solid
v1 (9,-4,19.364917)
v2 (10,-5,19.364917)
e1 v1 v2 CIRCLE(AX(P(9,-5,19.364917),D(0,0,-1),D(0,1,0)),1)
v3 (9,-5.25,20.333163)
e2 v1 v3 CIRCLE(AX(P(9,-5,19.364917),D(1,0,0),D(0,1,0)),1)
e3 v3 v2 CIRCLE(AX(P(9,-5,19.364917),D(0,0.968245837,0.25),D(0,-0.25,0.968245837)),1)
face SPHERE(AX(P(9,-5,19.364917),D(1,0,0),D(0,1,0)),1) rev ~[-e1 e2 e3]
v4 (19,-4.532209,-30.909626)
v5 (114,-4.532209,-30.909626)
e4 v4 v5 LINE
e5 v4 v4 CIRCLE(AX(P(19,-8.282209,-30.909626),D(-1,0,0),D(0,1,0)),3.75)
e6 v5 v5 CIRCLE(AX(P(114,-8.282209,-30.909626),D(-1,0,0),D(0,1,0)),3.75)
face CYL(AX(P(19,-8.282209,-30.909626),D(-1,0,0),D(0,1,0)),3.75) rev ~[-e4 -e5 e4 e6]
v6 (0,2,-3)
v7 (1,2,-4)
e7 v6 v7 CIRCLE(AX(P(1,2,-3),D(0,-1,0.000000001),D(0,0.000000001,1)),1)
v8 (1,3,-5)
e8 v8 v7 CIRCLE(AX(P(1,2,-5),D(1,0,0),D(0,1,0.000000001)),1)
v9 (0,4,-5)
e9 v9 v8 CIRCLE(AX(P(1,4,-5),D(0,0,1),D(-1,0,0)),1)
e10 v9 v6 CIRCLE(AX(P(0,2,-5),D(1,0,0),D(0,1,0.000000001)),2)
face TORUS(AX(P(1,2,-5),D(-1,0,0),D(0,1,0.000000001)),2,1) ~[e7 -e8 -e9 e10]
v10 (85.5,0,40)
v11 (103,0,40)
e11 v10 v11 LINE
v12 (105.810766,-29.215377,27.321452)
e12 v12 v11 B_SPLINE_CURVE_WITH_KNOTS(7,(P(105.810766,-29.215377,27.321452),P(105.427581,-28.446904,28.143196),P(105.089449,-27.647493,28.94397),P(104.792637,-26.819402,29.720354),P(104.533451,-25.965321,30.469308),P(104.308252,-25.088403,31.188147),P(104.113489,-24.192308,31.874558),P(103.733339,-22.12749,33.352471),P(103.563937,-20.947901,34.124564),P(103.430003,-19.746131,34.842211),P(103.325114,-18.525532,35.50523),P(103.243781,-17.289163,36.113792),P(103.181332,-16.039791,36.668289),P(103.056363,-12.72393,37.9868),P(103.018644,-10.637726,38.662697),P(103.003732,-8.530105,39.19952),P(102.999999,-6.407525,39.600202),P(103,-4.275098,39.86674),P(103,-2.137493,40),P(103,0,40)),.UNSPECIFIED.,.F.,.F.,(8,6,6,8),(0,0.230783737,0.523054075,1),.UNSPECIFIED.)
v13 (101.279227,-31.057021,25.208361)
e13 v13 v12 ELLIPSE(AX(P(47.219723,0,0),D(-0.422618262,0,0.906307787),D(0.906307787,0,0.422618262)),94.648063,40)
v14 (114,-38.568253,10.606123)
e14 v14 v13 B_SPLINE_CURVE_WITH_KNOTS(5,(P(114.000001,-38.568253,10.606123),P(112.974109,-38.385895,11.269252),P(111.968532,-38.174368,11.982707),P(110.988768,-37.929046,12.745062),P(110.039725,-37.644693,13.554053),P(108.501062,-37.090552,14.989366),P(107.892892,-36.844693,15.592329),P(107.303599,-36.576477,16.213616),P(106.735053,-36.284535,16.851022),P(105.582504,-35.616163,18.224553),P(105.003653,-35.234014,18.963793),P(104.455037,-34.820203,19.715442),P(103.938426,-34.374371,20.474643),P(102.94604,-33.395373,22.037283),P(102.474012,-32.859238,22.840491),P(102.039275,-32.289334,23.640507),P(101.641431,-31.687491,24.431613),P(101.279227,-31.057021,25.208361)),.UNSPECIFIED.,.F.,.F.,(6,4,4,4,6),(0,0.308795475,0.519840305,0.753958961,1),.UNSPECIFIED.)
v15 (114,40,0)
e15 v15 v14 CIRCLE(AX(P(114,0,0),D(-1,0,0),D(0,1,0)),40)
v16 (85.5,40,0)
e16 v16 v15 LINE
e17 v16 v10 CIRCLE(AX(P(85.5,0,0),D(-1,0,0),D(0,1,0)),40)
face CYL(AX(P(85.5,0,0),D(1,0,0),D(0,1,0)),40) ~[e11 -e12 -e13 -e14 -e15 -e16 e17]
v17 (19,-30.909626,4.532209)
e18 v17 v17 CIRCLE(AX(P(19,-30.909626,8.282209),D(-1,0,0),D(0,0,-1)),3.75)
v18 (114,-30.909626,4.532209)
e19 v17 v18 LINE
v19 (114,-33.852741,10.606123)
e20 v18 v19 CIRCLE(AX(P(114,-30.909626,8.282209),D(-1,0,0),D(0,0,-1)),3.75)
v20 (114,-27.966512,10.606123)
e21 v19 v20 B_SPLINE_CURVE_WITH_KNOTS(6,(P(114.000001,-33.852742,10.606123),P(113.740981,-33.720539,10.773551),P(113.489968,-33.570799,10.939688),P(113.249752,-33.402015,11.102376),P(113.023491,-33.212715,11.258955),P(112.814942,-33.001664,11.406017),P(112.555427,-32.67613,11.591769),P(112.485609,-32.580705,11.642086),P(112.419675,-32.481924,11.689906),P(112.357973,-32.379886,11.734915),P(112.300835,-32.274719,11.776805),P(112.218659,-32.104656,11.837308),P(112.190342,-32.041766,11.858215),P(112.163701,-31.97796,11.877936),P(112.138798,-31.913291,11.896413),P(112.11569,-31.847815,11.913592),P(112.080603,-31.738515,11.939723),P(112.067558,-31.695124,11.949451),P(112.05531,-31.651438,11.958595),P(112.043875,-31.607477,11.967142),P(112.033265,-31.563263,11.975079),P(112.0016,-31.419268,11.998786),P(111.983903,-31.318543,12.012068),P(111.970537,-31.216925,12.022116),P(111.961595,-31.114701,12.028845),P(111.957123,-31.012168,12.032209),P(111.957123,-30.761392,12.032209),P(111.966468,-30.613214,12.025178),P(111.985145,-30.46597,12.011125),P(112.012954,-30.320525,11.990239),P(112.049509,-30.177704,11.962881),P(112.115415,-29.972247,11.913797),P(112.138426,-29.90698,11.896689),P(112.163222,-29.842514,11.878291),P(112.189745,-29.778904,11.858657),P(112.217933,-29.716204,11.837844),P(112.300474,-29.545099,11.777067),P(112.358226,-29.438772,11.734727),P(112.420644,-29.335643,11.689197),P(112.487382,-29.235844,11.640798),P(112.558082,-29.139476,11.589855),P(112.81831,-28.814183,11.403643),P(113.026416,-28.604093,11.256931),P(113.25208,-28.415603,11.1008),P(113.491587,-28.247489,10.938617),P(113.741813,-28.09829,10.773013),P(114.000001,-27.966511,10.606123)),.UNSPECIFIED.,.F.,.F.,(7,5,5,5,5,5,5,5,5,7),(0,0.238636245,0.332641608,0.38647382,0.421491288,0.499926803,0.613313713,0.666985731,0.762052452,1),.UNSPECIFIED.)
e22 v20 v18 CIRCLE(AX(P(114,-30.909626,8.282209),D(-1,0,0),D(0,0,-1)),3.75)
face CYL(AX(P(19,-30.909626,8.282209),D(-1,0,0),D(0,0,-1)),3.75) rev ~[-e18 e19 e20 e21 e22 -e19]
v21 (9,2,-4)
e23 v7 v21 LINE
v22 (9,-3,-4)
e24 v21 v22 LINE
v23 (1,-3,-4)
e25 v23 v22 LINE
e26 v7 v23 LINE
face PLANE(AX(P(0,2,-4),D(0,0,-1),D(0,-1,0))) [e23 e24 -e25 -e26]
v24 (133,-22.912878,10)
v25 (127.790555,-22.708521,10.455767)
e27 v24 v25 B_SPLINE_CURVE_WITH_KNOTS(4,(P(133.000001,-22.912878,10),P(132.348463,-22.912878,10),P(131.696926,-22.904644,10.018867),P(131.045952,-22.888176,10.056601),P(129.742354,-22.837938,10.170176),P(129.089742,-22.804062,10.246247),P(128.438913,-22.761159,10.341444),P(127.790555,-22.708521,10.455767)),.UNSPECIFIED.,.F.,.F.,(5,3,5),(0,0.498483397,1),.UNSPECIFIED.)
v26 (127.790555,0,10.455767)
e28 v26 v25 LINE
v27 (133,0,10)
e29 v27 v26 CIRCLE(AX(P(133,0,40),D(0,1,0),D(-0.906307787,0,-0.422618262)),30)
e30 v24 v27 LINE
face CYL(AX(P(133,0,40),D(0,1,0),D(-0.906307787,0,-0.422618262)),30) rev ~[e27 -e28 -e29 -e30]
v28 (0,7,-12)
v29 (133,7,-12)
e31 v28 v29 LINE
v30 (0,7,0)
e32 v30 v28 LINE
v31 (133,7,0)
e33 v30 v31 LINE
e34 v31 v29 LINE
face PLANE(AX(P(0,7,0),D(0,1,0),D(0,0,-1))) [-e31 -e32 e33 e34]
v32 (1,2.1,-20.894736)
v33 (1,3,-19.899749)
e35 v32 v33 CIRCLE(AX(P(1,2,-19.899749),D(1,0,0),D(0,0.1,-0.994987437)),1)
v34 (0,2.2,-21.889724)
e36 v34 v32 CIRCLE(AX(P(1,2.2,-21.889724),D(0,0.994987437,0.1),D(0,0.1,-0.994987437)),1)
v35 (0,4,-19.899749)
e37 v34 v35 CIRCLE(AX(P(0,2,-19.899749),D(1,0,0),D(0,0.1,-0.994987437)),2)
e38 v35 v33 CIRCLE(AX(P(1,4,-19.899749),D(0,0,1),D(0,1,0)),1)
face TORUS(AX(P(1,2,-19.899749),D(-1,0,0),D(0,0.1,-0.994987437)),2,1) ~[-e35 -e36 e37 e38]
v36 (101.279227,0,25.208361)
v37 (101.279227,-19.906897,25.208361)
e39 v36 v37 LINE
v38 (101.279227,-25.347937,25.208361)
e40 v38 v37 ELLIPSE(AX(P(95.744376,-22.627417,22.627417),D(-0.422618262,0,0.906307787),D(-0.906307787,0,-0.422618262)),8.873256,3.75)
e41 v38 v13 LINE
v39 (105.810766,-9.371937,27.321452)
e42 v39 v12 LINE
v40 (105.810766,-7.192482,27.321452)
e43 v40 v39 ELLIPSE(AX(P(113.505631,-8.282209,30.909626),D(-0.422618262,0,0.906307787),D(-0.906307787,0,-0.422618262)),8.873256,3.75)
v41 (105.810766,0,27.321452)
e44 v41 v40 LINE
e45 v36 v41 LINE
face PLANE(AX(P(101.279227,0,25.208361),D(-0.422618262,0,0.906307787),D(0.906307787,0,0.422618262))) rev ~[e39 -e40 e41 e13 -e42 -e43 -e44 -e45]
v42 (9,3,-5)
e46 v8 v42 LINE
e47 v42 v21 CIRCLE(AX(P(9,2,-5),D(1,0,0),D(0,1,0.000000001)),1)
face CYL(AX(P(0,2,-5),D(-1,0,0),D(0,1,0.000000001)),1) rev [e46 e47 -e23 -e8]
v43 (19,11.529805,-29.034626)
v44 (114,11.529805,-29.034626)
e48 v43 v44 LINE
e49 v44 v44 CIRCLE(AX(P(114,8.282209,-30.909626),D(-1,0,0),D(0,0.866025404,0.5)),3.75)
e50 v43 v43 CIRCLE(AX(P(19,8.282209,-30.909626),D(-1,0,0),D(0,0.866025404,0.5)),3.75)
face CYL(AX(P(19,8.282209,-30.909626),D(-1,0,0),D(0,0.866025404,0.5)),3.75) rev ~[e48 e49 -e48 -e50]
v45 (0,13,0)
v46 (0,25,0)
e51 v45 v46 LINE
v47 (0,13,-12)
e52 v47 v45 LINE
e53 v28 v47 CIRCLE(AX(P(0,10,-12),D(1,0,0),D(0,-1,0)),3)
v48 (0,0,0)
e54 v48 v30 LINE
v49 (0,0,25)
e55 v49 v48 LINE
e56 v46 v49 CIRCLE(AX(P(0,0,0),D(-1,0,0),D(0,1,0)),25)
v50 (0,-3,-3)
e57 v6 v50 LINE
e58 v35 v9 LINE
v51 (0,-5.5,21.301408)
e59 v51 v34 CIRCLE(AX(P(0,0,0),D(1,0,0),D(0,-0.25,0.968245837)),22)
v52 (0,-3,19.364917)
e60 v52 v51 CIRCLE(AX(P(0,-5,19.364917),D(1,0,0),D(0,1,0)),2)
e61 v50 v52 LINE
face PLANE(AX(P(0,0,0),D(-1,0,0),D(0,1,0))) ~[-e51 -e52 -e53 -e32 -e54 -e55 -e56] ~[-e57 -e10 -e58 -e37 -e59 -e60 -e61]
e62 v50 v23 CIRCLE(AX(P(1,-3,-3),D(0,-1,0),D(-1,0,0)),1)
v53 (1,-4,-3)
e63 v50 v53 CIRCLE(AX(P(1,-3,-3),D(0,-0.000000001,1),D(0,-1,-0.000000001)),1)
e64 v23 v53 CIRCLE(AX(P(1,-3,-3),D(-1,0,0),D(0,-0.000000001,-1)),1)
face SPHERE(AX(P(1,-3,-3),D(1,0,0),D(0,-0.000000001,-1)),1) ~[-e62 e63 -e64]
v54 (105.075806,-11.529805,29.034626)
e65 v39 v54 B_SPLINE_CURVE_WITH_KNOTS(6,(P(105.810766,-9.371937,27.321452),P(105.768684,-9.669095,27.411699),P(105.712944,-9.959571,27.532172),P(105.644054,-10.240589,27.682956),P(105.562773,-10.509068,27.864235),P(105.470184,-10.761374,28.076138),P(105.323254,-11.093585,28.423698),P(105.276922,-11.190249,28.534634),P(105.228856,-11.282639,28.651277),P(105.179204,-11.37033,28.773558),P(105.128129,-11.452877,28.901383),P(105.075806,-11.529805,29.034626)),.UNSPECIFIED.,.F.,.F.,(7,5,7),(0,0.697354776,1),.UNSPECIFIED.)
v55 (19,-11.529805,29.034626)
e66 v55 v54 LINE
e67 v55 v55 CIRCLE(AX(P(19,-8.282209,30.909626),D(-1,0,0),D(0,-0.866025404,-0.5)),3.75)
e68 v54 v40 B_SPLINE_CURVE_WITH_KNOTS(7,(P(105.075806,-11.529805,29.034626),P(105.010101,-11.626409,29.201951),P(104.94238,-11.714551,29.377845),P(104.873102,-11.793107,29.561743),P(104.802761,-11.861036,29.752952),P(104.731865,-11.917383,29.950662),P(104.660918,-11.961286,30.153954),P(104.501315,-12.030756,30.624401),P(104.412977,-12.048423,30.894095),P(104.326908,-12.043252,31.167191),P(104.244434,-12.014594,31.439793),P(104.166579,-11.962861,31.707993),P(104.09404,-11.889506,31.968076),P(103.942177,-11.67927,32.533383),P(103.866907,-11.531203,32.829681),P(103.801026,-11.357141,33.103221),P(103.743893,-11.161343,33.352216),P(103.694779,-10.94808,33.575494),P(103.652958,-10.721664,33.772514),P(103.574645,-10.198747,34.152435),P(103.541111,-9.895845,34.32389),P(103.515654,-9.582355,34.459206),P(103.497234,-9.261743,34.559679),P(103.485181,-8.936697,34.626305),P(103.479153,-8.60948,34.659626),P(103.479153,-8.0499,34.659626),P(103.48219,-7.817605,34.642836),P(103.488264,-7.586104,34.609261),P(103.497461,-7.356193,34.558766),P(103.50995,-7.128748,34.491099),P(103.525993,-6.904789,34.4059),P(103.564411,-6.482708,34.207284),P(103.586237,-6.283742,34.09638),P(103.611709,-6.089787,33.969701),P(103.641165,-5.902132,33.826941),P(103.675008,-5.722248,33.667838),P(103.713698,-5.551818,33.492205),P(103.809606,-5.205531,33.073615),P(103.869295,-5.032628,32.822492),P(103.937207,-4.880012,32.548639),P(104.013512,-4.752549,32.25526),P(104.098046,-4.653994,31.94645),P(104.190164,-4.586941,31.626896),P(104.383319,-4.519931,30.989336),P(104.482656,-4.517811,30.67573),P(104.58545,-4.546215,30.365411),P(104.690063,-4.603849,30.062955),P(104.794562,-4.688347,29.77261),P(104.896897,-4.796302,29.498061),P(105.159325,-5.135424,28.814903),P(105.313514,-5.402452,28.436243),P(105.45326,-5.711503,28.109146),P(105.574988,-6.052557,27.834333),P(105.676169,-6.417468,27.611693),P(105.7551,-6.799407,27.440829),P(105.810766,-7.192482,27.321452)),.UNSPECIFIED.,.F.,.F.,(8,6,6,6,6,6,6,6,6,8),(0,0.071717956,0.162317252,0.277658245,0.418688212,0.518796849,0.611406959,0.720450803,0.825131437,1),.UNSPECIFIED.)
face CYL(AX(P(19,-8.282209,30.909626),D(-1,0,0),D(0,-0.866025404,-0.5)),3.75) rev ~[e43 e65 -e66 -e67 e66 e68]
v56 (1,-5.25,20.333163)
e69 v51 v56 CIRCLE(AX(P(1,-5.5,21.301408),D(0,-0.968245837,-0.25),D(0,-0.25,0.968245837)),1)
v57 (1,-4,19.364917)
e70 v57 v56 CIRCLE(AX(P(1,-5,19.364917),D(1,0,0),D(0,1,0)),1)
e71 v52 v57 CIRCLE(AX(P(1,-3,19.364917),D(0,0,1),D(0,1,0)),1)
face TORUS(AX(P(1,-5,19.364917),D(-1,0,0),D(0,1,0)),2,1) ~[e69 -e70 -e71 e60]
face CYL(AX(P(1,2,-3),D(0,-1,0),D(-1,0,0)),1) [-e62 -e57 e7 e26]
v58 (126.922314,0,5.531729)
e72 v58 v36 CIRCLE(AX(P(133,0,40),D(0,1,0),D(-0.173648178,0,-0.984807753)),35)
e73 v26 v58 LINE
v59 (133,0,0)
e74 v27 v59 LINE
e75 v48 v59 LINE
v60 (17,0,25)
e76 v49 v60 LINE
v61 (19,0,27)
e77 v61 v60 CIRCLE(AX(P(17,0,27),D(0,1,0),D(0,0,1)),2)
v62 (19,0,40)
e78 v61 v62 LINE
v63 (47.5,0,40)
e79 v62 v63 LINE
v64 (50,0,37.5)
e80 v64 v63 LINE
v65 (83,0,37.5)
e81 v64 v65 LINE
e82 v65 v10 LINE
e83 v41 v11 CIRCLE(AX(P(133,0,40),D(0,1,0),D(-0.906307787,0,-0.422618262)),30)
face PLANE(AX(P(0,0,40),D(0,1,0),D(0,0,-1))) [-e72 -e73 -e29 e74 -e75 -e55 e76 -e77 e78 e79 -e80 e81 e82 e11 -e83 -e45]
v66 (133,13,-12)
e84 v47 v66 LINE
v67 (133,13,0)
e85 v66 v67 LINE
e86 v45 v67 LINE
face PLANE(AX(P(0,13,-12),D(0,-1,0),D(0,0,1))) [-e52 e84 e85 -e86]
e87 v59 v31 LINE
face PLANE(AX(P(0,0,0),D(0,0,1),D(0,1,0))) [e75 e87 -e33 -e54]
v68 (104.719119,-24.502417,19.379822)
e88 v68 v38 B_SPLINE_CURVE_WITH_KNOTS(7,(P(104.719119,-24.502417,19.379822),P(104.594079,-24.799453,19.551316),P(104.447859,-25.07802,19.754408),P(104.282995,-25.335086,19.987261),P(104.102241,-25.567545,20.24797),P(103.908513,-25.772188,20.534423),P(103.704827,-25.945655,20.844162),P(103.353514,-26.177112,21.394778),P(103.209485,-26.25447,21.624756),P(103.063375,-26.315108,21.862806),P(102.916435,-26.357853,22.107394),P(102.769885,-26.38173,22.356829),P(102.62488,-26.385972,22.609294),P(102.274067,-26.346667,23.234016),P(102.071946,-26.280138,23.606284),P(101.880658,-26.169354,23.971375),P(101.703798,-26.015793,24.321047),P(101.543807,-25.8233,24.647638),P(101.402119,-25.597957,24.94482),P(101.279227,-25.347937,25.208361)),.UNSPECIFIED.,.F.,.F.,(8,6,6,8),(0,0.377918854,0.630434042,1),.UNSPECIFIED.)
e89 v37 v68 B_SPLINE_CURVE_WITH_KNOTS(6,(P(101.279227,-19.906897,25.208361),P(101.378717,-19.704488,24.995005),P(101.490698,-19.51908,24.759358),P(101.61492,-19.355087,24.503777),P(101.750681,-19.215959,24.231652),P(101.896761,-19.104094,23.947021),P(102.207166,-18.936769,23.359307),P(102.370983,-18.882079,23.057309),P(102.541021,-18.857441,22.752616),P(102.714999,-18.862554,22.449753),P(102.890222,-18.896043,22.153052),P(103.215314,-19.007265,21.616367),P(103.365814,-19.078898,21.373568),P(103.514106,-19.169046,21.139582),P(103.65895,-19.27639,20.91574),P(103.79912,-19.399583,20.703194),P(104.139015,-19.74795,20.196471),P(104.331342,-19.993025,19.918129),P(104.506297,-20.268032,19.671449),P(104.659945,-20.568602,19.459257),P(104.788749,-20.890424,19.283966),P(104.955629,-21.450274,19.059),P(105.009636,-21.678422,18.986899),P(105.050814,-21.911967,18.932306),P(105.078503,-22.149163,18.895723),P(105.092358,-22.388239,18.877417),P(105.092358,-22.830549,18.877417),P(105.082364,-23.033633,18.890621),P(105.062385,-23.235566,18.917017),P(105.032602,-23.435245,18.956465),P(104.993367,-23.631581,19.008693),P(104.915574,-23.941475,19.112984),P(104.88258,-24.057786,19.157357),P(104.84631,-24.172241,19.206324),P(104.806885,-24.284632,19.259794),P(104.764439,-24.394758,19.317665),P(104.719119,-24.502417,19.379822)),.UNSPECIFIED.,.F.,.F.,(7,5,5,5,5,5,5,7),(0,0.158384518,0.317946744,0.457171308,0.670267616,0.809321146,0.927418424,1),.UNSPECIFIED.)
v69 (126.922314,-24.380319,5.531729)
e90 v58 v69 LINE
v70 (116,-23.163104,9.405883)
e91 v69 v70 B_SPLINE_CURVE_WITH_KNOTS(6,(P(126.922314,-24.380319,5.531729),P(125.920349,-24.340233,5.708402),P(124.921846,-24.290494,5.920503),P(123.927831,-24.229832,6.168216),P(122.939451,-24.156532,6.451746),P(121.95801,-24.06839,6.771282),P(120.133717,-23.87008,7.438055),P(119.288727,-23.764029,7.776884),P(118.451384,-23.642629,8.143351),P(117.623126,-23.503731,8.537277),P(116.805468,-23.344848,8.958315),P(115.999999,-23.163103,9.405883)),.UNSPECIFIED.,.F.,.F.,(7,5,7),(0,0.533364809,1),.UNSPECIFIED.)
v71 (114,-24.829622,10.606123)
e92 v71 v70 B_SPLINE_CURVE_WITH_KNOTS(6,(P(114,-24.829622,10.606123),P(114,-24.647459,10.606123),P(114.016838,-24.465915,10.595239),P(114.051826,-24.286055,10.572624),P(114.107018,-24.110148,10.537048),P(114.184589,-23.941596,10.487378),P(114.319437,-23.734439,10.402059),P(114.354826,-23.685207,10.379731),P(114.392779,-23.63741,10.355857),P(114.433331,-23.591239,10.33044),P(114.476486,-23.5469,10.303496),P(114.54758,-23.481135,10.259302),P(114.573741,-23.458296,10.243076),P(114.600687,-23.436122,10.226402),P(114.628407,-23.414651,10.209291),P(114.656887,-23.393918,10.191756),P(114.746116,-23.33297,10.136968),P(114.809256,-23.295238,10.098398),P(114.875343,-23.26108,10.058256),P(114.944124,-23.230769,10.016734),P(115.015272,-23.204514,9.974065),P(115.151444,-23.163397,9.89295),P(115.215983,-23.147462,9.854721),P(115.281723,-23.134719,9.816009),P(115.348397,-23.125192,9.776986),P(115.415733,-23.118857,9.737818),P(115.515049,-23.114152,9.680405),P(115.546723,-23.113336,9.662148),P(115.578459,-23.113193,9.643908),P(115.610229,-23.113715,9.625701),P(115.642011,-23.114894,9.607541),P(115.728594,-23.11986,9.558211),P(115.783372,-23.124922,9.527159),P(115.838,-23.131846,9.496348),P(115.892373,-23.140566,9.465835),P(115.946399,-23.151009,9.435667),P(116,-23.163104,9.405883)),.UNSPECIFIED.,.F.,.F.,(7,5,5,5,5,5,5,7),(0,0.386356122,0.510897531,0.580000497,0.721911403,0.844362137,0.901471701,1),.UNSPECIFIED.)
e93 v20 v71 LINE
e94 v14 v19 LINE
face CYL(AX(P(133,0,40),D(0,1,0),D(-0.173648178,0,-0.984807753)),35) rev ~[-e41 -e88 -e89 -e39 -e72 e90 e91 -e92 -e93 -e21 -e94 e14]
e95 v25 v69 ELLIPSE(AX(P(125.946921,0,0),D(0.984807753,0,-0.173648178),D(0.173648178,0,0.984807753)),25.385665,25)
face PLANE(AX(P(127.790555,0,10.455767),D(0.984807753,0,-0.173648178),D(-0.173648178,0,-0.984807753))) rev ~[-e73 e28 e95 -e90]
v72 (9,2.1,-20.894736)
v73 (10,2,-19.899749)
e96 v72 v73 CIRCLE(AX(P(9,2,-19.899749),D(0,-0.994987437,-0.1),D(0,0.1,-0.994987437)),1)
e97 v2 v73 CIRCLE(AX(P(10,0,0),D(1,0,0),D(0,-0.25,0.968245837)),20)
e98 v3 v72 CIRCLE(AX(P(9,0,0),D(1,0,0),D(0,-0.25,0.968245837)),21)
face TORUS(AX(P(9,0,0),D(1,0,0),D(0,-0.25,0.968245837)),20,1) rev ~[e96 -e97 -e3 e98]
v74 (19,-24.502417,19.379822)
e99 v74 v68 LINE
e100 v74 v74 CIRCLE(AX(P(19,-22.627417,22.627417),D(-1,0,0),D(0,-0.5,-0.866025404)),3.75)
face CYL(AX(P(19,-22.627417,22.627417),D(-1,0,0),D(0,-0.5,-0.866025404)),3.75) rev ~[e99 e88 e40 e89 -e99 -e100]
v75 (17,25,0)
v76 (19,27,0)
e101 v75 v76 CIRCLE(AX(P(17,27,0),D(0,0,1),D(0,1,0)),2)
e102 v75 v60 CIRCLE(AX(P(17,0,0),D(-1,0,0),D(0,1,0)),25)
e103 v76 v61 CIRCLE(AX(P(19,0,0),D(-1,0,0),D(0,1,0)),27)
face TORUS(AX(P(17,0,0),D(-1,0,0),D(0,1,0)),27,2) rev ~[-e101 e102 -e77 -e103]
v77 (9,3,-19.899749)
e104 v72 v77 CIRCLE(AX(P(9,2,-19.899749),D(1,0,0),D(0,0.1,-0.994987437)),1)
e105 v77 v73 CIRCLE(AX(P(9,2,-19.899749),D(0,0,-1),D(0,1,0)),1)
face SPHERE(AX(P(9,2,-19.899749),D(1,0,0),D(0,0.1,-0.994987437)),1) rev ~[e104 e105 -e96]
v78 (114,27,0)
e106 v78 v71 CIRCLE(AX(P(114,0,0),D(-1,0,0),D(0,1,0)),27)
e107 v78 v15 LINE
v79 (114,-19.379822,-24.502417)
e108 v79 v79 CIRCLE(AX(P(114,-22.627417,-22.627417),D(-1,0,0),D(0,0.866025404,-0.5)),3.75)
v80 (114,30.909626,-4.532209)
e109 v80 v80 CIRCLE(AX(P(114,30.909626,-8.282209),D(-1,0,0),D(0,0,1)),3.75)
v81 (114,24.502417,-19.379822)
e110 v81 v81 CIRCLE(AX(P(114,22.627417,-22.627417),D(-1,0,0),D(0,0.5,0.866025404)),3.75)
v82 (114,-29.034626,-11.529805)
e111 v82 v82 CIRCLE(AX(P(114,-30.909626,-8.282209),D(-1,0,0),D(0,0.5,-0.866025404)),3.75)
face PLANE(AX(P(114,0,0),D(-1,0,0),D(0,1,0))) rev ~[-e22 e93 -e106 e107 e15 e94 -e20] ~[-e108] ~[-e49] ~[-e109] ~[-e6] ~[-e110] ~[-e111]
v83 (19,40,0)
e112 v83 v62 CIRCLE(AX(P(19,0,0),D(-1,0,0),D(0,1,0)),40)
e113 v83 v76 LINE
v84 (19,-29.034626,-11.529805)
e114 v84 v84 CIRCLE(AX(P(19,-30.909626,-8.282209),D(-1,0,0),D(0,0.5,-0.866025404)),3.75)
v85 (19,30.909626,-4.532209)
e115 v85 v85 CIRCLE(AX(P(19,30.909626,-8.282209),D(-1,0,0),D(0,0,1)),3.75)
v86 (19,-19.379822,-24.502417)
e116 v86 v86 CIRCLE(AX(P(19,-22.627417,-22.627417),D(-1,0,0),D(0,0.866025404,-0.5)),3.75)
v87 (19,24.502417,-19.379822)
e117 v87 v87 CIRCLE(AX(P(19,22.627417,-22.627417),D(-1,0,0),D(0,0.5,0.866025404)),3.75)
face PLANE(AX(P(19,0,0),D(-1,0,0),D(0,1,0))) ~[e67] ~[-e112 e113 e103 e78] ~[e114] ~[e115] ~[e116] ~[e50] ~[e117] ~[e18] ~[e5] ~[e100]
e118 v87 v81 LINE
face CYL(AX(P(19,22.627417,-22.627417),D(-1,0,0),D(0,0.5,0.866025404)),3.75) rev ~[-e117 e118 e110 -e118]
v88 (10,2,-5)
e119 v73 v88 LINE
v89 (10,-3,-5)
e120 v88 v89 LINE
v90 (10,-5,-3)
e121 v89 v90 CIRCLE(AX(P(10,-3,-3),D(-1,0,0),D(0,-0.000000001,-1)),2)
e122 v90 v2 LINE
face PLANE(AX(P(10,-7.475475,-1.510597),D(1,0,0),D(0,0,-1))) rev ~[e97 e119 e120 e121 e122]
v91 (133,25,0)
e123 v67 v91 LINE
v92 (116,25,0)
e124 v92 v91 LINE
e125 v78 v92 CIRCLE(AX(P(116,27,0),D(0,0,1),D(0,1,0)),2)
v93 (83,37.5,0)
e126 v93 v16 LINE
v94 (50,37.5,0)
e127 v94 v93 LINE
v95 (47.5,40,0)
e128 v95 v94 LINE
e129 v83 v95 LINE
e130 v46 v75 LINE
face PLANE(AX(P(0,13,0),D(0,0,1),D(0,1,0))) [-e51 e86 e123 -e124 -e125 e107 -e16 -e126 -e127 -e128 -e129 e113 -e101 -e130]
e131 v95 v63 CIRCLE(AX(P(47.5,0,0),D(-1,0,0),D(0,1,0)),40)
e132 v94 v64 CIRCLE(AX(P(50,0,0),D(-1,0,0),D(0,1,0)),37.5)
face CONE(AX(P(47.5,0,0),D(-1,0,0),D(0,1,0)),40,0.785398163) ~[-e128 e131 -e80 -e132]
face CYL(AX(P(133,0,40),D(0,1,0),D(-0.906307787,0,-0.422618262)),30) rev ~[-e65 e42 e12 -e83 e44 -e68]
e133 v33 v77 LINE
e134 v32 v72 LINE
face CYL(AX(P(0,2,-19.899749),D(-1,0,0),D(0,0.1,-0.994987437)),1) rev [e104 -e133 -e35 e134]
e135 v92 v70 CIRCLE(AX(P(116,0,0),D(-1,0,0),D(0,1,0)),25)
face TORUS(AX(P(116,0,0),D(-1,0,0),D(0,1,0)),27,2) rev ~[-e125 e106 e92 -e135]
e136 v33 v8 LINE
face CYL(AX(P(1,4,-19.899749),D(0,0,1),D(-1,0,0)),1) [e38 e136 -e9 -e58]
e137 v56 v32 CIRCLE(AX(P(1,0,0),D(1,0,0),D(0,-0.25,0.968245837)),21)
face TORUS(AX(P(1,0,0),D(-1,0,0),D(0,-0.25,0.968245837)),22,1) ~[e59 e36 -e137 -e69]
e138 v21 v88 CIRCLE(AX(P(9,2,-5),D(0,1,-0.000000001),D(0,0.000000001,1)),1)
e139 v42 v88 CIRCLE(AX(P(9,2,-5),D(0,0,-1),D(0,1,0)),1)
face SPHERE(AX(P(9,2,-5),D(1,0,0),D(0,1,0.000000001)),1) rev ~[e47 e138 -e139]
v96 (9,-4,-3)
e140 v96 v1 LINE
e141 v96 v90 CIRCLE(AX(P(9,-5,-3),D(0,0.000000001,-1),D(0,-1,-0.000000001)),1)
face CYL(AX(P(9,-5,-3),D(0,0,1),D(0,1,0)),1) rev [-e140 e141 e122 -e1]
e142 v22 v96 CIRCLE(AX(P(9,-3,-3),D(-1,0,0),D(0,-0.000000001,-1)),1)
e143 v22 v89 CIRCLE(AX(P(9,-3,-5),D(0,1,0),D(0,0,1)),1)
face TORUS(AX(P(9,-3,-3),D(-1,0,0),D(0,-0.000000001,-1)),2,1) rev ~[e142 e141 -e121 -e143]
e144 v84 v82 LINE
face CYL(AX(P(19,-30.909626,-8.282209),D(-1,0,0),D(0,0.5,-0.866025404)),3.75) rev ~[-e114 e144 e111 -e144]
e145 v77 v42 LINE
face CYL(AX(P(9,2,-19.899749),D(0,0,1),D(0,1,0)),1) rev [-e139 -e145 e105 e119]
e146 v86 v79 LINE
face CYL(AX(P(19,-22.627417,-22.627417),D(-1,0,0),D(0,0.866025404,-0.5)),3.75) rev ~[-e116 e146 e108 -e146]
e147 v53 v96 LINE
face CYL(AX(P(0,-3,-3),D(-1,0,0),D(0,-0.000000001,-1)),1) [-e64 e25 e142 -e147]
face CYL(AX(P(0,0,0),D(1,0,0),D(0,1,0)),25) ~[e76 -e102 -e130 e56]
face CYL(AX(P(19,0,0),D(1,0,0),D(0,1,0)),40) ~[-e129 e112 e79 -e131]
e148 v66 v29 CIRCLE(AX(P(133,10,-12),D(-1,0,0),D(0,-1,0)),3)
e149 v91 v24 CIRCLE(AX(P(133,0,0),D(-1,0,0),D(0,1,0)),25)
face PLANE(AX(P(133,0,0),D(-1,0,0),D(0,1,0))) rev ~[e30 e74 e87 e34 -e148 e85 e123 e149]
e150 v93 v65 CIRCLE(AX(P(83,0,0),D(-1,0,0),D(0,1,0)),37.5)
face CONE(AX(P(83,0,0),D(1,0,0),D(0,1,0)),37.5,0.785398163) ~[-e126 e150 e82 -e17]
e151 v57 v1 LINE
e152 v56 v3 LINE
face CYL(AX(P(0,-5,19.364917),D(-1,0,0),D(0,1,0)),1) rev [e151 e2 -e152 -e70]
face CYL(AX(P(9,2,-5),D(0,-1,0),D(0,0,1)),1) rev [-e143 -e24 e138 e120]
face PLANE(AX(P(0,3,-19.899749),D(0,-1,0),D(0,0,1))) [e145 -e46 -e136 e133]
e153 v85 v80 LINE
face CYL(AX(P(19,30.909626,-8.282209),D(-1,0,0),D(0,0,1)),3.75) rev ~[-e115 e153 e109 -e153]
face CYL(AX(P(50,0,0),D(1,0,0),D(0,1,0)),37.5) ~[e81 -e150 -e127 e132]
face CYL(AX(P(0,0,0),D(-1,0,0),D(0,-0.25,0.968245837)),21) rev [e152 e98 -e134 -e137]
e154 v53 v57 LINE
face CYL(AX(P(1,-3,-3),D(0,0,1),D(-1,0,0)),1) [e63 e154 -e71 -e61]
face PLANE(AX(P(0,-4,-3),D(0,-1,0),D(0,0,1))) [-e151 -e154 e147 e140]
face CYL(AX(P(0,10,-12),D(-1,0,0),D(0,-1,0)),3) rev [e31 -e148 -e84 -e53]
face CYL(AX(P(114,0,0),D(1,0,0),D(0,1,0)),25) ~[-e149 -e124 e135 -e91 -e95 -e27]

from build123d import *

# Parameters (mm, degrees)
ZAOKR_GLENIE1_R            = 2
WYTNIJ_WYCI_GNI_CIE1_DEPTH = 134
SZKIC4_R                   = 3.75
WYTNIJ_WYCI_GNI_CIE2_DEPTH = 115
SZYK_KO_OWY1_COUNT         = 9
SZYK_KO_OWY1_ANGLE         = 240
WYTNIJ_WYCI_GNI_CIE3_DEPTH = 41
WYTNIJ_WYCI_GNI_CIE4_DEPTH = 10
ZAOKR_GLENIE2_R            = 1
ZAOKR_GLENIE3_R            = 1


with BuildPart() as part:
    # Szkic2 → Obrót1 (revolve)
    with BuildSketch(Plane.XY):
        Polygon((0, 0), (0, 25), (19, 25), (19, 40), (47.5, 40), (50, 37.5), (83, 37.5), (85.5, 40), (114, 40), (114, 25), (133, 25), (133, 0), align=None)
    revolve(axis=Axis((133, 0, 0), (-1, 0, 0)))

    # Zaokrąglenie1
    zaokr_glenie1_edges = [part.edges().sort_by_distance(p)[0] for p in [
        (114, -25, 0),
        (19, -25, 0),
    ]]
    fillet(zaokr_glenie1_edges, radius=ZAOKR_GLENIE1_R)

    # Szkic3 → Wytnij-wyciągnięcie1 (cut, through all)
    with BuildSketch(Plane.ZY):
        with BuildLine():
            Line((0, 0), (0, 7))
            Line((0, 7), (-12, 7))
            ThreePointArc((-12, 7), (-15, 10), (-12, 13))
            Line((-12, 13), (0, 13))
            Line((0, 13), (0, 40))
            ThreePointArc((0, 40), (28.284271247, 28.284271247), (40, 0))
            Line((40, 0), (0, 0))
        make_face()
    extrude(amount=-WYTNIJ_WYCI_GNI_CIE1_DEPTH, mode=Mode.SUBTRACT)

    # Szkic4 → Wytnij-wyciągnięcie2 (cut, through all)
    with BuildSketch(Plane.ZY.offset(-19)):
        with Locations((-8.282209443, 30.909626441)):
            Circle(SZKIC4_R)
    wytnij_wyci_gni_cie2 = extrude(amount=-WYTNIJ_WYCI_GNI_CIE2_DEPTH, mode=Mode.SUBTRACT)

    # Szyk kołowy1: Wytnij-wyciągnięcie2 ×9 about axis
    szyk_ko_owy1_axis = Axis((0, 0, 0), (-1, 0, 0))
    for i in range(1, SZYK_KO_OWY1_COUNT):
        add(wytnij_wyci_gni_cie2.rotate(szyk_ko_owy1_axis, i * SZYK_KO_OWY1_ANGLE / (SZYK_KO_OWY1_COUNT - 1)), mode=Mode.SUBTRACT)

    # Szkic5 → Wytnij-wyciągnięcie3 (cut, through all)
    with BuildSketch(Plane(origin=(0, 0, 0), x_dir=(1, 0, 0), z_dir=(0, 1, 0))):
        with BuildLine():
            Line((101.279227454, -25.208360839), (105.810766389, -27.321452148))
            ThreePointArc((105.810766389, -27.321452148), (151.26284287, -63.800600209), (127.79055467, -10.45576741))
            Line((127.79055467, -10.45576741), (126.922313782, -5.531728645))
            ThreePointArc((126.922313782, -5.531728645), (111.693349985, -12.23263309), (101.279227454, -25.208360839))
        make_face()
    extrude(amount=-WYTNIJ_WYCI_GNI_CIE3_DEPTH, mode=Mode.SUBTRACT)

    # Szkic6 → Wytnij-wyciągnięcie4 (cut)
    with BuildSketch(Plane.ZY):
        with BuildLine():
            Line((-19.899748742, 3), (-5, 3))
            ThreePointArc((-5, 3), (-4.292893219, 2.707106781), (-4, 2))
            Line((-4, 2), (-4, -3))
            ThreePointArc((-4, -3), (-3.707106781, -3.707106781), (-3, -4))
            Line((-3, -4), (19.364916731, -4))
            ThreePointArc((19.364916731, -4), (20.155486146, -4.387627564), (20.333162568, -5.25))
            ThreePointArc((20.333162568, -5.25), (-3.685711089, -20.674030419), (-20.894736179, 2.1))
            ThreePointArc((-20.894736179, 2.1), (-20.570569135, 2.741619849), (-19.899748742, 3))
        make_face()
    extrude(amount=-WYTNIJ_WYCI_GNI_CIE4_DEPTH, mode=Mode.SUBTRACT)

    # Zaokrąglenie2
    zaokr_glenie2_edges = [part.edges().sort_by_distance(p)[0] for p in [
        (10, -4.387627564, 20.155486146),
        (10, -20.674030419, -3.685711089),
        (10, 2.741619849, -20.570569135),
        (10, 3, -12.449874371),
        (10, 2.707106781, -4.292893219),
        (10, -0.5, -4),
        (10, -3.707106781, -3.707106781),
        (10, -4, 8.182458366),
    ]]
    fillet(zaokr_glenie2_edges, radius=ZAOKR_GLENIE2_R)

    # Zaokrąglenie3
    zaokr_glenie3_edges = [part.edges().sort_by_distance(p)[0] for p in [
        (0, -4.387627564, 20.155486146),
        (0, -20.674030419, -3.685711089),
        (0, 2.741619849, -20.570569135),
        (0, 3, -12.449874371),
        (0, 2.707106781, -4.292893219),
        (0, -0.5, -4),
        (0, -3.707106781, -3.707106781),
        (0, -4, 8.182458366),
    ]]
    fillet(zaokr_glenie3_edges, radius=ZAOKR_GLENIE3_R)


solid = part.part
